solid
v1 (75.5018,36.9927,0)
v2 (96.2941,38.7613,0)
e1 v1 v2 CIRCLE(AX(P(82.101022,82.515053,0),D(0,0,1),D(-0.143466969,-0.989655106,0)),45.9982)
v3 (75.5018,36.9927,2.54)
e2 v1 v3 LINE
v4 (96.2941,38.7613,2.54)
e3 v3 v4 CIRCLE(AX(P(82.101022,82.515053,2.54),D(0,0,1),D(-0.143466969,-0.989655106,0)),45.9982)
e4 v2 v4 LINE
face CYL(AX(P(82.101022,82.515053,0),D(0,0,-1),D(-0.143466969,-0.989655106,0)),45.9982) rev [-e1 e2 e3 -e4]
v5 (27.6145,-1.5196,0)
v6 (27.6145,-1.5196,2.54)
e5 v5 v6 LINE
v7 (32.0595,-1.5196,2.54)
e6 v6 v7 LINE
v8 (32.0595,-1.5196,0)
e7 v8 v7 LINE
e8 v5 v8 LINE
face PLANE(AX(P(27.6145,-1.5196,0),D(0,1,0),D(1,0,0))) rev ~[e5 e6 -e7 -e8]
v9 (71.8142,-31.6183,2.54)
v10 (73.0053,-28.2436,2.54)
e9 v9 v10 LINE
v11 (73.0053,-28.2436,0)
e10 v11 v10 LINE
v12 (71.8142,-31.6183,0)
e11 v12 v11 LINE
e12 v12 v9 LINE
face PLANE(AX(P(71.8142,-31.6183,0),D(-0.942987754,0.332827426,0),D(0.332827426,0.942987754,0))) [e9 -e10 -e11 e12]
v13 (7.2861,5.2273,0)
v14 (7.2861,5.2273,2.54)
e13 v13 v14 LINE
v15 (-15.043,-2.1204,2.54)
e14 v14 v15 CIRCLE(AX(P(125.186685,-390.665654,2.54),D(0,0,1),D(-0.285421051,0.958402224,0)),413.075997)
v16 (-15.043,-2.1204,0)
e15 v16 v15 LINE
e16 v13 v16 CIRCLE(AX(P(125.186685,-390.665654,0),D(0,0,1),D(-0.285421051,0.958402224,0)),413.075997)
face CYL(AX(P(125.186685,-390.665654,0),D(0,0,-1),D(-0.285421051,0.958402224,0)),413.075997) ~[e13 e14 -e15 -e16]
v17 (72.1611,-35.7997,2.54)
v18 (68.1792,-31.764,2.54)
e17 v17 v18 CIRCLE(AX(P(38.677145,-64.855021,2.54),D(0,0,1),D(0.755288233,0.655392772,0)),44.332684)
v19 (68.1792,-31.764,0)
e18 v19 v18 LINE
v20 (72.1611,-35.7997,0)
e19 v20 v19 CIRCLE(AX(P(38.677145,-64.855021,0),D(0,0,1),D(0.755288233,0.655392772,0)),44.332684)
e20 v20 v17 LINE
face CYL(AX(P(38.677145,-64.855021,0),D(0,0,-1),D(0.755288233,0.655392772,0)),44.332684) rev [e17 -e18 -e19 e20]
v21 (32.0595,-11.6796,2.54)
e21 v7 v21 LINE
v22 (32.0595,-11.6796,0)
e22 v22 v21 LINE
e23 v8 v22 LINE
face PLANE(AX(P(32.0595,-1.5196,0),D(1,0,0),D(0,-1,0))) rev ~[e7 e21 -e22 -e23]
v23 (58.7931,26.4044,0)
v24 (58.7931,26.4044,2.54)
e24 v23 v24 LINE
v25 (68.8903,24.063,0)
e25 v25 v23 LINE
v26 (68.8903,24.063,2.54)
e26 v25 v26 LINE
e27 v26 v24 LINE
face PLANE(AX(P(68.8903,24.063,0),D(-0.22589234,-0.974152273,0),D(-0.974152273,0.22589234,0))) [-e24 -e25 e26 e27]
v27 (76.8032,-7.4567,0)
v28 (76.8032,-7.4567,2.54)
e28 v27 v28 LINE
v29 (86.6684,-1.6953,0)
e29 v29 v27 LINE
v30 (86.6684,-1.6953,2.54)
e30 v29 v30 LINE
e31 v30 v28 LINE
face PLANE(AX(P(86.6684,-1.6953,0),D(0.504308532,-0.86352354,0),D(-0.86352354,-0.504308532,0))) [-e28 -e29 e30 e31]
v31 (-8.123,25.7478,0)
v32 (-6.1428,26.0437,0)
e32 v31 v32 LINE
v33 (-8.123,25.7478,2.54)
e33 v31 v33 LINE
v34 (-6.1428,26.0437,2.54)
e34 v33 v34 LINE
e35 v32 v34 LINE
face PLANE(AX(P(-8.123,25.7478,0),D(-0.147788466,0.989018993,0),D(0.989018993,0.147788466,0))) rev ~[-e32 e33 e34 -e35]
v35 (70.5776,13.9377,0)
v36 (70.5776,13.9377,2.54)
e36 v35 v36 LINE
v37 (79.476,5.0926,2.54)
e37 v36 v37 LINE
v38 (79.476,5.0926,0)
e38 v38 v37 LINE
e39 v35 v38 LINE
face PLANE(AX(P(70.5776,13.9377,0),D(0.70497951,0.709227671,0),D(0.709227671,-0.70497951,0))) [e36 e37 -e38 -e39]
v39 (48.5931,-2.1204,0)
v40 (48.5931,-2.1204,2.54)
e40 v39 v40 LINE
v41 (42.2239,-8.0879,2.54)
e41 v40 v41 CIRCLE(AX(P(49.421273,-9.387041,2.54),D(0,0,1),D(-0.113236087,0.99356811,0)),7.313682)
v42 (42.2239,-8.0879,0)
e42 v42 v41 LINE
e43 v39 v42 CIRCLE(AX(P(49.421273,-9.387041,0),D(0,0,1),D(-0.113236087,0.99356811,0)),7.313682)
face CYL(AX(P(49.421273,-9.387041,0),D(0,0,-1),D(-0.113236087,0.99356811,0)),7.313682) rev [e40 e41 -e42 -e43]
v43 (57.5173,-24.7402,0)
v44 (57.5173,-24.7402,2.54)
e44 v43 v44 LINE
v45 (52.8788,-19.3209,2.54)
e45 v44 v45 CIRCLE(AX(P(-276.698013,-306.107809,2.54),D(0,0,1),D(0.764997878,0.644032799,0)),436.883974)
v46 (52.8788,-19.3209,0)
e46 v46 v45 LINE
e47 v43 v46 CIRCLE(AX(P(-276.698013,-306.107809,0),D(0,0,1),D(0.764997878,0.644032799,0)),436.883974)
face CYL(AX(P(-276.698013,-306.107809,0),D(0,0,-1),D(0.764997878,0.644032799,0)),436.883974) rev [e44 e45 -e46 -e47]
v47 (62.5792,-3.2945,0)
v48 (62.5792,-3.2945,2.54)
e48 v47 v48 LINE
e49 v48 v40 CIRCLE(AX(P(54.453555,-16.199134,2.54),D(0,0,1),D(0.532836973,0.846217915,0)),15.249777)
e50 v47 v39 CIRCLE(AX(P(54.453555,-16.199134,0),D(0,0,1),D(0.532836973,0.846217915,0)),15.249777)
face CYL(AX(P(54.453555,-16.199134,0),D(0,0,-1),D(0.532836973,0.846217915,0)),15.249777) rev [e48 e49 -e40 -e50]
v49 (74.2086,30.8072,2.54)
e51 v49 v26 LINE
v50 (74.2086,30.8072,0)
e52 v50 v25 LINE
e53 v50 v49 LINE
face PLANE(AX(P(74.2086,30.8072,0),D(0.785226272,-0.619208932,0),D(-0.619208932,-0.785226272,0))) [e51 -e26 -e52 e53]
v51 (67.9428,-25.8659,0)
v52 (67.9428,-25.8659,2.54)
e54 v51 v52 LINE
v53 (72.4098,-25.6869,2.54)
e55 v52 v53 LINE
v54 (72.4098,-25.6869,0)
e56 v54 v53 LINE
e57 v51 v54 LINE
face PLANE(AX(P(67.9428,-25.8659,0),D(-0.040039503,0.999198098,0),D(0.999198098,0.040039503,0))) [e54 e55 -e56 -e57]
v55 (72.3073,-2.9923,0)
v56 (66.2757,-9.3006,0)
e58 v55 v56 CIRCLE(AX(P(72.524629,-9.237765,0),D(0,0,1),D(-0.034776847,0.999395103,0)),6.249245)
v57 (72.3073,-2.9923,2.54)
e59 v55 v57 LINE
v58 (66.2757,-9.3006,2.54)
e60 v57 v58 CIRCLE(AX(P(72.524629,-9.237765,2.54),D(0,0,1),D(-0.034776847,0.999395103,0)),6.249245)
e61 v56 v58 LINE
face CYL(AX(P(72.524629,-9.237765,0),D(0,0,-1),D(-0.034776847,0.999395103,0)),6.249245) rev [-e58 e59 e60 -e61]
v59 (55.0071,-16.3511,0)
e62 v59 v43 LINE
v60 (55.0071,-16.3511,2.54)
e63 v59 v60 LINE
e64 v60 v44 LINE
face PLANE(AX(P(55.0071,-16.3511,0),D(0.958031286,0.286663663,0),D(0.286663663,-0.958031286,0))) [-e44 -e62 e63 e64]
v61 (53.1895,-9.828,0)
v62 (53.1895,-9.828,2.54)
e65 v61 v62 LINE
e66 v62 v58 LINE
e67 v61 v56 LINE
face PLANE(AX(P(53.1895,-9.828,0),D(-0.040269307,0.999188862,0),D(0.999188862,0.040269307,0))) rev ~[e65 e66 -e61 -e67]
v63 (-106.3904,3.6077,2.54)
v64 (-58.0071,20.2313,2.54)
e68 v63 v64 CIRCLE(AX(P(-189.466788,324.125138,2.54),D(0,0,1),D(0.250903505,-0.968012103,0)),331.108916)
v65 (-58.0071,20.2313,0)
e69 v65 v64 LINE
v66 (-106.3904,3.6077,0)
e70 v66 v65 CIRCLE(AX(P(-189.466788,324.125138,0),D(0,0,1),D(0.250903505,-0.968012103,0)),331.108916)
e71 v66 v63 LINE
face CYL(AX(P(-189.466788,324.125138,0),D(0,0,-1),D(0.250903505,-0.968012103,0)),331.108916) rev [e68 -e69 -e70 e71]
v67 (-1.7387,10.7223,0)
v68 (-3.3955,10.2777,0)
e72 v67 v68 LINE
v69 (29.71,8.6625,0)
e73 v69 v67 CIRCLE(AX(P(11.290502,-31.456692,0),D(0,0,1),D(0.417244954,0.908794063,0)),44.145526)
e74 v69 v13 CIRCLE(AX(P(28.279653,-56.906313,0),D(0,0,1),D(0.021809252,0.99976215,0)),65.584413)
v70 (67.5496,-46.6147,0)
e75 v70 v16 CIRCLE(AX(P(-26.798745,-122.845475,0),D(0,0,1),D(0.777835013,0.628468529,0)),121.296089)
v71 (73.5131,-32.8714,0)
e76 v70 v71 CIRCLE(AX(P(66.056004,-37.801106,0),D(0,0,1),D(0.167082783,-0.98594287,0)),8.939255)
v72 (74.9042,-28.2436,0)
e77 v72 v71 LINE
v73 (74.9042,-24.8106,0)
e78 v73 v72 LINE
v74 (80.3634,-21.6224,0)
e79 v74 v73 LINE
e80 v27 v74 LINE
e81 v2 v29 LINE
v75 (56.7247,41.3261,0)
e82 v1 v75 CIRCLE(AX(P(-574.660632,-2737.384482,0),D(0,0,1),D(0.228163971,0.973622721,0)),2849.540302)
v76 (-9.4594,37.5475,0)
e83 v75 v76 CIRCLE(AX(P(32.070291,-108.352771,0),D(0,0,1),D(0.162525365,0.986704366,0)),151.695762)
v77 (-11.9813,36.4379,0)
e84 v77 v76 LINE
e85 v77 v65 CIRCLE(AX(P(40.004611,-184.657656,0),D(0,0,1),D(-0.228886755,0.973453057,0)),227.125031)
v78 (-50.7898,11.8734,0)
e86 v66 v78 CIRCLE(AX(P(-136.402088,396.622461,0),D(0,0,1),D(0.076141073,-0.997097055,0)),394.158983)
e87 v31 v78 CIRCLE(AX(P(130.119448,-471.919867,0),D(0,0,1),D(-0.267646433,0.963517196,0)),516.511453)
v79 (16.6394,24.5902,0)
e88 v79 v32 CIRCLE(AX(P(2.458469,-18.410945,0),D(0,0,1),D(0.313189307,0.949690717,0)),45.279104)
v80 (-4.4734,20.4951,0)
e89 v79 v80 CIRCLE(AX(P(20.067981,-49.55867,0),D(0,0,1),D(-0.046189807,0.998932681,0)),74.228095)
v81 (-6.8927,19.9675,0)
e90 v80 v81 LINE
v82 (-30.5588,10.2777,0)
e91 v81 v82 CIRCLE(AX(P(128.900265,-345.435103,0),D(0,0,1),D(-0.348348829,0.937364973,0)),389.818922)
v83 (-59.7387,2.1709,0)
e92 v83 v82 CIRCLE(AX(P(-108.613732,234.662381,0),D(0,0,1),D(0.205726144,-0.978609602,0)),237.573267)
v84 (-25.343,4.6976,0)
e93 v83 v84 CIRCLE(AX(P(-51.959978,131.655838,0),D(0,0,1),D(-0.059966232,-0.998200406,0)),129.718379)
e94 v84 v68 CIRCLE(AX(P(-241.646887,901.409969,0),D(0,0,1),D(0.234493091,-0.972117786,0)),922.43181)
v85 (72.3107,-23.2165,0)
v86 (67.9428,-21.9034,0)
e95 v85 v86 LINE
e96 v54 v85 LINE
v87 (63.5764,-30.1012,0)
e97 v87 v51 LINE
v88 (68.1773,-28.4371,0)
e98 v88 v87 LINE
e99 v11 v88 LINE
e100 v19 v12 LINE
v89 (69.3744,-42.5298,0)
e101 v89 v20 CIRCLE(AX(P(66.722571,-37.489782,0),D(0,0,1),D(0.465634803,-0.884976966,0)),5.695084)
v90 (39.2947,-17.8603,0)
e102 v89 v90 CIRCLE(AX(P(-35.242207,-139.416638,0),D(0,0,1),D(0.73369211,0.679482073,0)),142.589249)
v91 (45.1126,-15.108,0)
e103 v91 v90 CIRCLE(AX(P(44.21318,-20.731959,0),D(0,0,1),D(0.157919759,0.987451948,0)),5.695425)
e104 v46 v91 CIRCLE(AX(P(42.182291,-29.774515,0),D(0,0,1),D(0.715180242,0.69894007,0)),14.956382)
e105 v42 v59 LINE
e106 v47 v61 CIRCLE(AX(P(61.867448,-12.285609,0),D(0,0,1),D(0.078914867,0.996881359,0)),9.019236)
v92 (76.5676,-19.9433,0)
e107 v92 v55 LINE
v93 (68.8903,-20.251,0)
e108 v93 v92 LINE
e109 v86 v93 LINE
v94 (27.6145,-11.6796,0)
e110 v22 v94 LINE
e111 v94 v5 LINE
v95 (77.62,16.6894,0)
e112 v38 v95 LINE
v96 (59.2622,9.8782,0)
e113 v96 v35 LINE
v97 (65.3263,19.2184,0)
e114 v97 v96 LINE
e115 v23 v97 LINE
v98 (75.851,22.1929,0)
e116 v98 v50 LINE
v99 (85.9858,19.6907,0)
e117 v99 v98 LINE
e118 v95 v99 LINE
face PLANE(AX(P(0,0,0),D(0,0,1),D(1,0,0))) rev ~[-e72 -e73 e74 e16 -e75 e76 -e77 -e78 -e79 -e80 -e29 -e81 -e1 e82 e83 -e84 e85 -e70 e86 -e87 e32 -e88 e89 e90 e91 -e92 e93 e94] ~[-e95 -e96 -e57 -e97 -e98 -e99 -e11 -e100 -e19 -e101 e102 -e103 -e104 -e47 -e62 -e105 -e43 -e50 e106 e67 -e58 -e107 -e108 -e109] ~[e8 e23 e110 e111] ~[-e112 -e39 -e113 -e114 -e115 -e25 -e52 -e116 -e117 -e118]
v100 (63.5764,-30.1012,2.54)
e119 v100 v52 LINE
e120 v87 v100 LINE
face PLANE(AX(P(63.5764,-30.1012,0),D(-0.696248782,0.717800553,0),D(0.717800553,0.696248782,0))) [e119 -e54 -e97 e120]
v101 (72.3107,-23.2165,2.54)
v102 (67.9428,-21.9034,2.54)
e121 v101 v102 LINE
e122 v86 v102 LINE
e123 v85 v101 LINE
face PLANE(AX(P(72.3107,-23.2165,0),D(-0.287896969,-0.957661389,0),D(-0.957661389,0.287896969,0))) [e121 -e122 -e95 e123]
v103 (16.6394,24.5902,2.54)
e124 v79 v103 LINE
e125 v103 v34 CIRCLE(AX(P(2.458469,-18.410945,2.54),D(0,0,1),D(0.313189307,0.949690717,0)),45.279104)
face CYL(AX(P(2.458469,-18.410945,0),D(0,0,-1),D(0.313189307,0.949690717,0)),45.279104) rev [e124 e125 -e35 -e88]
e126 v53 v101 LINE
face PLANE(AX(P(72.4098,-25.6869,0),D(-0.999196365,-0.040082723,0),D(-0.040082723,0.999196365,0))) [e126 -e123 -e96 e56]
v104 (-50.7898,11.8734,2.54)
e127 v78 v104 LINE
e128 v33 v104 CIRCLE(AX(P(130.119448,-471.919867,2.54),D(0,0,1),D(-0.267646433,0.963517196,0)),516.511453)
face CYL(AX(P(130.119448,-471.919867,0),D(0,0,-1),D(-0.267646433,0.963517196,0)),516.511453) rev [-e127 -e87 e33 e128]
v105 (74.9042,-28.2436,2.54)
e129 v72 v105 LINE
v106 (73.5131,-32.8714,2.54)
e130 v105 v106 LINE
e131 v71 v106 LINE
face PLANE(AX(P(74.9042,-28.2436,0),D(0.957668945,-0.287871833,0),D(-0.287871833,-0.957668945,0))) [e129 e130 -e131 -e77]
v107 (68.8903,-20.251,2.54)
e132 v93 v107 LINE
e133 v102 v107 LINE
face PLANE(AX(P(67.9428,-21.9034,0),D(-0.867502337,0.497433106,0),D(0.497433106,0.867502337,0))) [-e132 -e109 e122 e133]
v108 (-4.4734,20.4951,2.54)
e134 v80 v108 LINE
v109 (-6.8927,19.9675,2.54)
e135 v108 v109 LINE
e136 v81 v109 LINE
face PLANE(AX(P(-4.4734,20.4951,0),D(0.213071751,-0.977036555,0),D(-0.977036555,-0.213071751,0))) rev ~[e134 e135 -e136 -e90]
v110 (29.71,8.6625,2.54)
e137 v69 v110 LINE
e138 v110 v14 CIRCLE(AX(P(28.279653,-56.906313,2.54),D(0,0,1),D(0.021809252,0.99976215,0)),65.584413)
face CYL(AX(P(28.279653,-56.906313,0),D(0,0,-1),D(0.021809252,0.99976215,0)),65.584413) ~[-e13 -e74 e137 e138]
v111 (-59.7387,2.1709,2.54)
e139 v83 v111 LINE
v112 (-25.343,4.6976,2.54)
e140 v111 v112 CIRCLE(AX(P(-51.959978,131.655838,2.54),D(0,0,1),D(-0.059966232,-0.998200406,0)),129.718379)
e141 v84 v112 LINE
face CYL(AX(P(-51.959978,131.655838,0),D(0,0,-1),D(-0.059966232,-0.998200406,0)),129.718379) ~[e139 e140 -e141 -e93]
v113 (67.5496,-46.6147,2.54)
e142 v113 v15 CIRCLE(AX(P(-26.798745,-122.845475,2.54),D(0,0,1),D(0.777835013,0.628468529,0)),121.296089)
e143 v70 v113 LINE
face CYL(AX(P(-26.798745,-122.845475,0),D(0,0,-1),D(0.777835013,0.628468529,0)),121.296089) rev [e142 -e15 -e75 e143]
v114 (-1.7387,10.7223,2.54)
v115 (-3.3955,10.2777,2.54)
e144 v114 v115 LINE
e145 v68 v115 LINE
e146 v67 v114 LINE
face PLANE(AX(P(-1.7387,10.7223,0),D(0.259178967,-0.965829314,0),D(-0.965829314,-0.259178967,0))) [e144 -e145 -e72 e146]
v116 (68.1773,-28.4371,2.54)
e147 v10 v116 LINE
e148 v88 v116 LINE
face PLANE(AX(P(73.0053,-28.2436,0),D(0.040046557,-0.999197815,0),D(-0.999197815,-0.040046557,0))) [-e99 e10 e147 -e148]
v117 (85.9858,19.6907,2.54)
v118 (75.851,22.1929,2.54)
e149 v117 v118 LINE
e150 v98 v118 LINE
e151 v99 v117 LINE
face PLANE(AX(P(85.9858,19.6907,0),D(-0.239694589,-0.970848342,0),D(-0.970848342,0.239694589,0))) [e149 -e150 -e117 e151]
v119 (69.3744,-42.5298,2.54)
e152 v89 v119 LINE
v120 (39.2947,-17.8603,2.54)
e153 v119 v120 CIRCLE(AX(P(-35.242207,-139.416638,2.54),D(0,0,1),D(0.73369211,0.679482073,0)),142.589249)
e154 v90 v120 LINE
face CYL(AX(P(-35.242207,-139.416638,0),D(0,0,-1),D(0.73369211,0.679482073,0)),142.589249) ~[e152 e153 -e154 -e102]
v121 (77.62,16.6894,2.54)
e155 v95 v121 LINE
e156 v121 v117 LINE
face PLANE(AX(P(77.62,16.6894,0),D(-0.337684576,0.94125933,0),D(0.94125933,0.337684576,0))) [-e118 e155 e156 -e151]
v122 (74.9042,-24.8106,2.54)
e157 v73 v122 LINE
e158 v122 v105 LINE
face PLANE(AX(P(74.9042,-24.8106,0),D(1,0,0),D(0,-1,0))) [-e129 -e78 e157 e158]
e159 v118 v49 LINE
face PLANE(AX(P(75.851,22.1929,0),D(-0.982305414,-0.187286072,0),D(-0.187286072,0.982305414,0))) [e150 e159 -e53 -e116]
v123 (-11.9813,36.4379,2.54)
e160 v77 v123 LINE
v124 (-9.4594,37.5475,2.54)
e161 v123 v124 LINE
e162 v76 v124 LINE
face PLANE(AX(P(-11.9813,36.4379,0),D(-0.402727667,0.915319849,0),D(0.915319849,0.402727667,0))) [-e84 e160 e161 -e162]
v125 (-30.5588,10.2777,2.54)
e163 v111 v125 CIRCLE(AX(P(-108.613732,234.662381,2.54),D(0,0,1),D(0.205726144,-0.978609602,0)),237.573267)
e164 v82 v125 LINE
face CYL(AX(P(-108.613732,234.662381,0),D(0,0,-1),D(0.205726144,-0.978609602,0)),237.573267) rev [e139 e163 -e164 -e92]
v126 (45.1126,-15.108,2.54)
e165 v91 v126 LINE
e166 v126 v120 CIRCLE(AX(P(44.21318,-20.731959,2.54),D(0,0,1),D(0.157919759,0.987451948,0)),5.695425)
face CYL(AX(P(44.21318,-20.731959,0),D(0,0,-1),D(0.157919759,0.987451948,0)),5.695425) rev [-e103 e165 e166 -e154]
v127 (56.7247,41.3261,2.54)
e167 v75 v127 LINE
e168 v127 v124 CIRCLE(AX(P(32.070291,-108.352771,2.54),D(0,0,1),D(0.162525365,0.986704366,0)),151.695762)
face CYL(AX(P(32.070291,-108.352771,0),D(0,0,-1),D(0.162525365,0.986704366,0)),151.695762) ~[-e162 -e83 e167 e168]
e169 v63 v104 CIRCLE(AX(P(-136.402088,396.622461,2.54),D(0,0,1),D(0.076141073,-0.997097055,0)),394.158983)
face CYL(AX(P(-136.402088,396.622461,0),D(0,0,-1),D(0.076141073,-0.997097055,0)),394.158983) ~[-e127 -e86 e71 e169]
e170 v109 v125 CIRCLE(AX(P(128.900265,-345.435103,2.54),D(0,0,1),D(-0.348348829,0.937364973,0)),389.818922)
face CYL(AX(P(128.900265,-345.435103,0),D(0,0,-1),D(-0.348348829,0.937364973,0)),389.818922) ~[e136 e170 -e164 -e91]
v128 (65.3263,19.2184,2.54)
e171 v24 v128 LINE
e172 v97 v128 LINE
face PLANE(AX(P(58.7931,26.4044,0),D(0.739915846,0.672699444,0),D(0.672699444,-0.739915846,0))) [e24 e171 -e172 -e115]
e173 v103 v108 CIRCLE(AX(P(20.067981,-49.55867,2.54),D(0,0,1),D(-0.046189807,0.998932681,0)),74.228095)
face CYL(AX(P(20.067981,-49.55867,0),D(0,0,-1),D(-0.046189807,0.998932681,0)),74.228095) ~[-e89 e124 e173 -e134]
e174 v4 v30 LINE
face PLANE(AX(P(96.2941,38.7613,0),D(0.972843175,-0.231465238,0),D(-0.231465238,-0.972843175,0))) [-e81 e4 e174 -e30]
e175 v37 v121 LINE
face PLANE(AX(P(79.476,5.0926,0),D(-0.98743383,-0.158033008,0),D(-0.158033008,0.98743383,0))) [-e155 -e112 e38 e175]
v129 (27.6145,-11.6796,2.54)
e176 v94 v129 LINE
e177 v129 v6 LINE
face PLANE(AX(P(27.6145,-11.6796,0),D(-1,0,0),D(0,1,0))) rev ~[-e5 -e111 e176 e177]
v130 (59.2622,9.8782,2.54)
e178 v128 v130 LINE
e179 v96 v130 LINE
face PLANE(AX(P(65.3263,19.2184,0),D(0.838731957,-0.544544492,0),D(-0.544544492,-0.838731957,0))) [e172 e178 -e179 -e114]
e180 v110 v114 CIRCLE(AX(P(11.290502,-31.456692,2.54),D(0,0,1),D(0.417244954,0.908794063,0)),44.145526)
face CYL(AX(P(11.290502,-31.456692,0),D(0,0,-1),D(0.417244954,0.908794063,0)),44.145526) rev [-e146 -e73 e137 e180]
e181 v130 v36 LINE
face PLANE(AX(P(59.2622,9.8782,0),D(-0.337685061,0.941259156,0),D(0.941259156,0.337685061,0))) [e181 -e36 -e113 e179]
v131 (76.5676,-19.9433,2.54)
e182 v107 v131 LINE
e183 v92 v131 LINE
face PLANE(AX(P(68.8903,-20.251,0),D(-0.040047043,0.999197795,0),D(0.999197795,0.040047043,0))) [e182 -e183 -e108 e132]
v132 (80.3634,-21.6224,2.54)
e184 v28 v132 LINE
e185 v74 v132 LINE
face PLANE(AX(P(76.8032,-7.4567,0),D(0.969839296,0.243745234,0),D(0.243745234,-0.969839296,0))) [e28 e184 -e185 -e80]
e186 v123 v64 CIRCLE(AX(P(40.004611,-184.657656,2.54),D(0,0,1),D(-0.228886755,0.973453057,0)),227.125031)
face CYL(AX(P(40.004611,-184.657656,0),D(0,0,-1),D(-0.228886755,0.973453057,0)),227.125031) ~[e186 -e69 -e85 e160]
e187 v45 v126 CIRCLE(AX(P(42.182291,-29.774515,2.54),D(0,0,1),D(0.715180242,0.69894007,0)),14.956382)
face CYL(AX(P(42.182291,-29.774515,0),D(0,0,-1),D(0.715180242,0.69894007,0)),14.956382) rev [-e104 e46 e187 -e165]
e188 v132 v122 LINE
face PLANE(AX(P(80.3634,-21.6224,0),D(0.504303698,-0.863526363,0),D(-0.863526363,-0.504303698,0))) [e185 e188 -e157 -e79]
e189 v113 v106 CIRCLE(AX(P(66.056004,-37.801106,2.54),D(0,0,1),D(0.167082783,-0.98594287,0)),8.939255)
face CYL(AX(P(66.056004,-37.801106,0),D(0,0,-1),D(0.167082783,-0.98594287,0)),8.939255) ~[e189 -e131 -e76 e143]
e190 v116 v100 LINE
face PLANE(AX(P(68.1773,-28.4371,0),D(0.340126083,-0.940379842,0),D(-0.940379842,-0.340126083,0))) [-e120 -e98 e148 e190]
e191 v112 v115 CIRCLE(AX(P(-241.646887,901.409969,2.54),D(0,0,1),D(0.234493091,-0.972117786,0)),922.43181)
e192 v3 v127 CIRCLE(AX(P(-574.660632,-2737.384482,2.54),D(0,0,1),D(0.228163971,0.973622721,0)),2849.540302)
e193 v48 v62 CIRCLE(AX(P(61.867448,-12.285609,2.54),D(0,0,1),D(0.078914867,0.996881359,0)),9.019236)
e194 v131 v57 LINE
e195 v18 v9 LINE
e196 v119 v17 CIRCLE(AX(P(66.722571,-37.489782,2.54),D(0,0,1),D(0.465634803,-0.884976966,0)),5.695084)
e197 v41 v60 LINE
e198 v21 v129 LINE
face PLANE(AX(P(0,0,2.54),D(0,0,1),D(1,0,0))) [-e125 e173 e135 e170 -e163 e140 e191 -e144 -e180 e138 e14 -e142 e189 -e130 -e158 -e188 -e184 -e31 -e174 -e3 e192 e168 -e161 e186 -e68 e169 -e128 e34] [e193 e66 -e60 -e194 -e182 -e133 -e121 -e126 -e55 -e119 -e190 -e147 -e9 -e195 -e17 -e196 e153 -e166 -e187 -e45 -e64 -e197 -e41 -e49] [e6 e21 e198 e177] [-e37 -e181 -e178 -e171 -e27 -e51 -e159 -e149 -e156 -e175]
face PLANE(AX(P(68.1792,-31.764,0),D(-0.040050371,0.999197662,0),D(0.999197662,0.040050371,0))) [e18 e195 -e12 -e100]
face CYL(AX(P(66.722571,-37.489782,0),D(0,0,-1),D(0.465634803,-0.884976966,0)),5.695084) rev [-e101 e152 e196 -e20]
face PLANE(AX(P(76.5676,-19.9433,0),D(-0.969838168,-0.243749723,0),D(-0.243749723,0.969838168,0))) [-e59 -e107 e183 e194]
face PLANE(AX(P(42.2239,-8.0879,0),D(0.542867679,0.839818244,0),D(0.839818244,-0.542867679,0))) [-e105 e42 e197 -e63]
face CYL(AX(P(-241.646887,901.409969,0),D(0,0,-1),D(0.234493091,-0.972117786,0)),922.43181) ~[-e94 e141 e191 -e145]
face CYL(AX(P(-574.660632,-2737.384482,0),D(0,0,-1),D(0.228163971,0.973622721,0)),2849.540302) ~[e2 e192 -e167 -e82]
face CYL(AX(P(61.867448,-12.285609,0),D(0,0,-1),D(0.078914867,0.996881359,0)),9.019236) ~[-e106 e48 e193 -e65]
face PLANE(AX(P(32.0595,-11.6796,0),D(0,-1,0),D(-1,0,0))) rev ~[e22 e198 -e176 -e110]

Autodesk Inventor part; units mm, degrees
ref_plane "YZ Plane" through (0, 0, 0) normal (1, 0, 0) x (0, 1, 0)
ref_plane "XZ Plane" through (0, 0, 0) normal (0, 1, 0) x (-1, 0, 0)
ref_plane "XY Plane" through (0, 0, 0) normal (0, 0, 1) x (1, 0, 0)
sketch "Sketch1" plane through (0, 0, 0) normal (0, 0, 1) x (1, 0, 0)
  line L0 (-121.92, 53.34) -> (121.92, 53.34)
  line L1 (121.92, 53.34) -> (121.92, -53.34)
  line L2 (121.92, -53.34) -> (-121.92, -53.34)
  line L3 (-121.92, -53.34) -> (-121.92, 53.34)
  line L4 (-121.92, 53.34) -> (121.92, -53.34) construction
  line L5 (121.92, 53.34) -> (-121.92, -53.34) construction
  arc A0 (67.5496, -52.2242) -> (-16.5252, -5.911) centre (-36.2594, -141.2049) ccw
  arc A1 (67.5496, -52.2242) -> (78.4495, -31.764) centre (64.7451, -37.5966) ccw
  arc A2 (-20.2647, 1.2126) -> (-16.5252, -5.911) centre (-17.1494, -1.6953) ccw
  arc A3 (-43.7287, -2.3938) -> (-20.2647, 1.2126) centre (-53.1153, 136.8126) ccw
  arc A4 (-61.5471, -2.0063) -> (-43.7287, -2.3938) centre (-51.0941, 68.8006) ccw
  arc A5 (-65.9278, 3.1159) -> (-61.5471, -2.0063) centre (-61.6241, 2.3622) ccw
  arc A6 (-108.1597, -0.5066) -> (-65.9278, 3.1159) centre (-96.2599, 108.7489) ccw
  arc A7 (-109.606, 7.2871) -> (-108.1597, -0.5066) centre (-107.7116, 3.6077) ccw
  arc A8 (-109.606, 7.2871) -> (-29.7712, 36.4682) centre (-485.0256, 1158.173) ccw
  arc A9 (46.8022, 47.5707) -> (-29.7712, 36.4682) centre (33.6127, -131.0759) ccw
  arc A10 (75.8647, 41.5807) -> (46.8022, 47.5707) centre (24.6007, -133.6461) ccw
  arc A11 (75.8647, 41.5807) -> (97.0333, 43.8681) centre (82.7984, 76.5092) ccw
  arc A12 (101.3733, 39.6116) -> (97.0333, 43.8681) centre (98.7975, 41.3261) ccw
  line L6 (101.3733, 39.6116) -> (91.2149, -4.1951)
  line L7 (91.2149, -4.1951) -> (82.1219, -9.828)
  line L8 (82.1219, -9.828) -> (85.6883, -23.6524)
  line L9 (85.6883, -23.6524) -> (79.8094, -27.2942)
  line L10 (79.8094, -27.2942) -> (78.4495, -31.764)
  arc A13 (-8.123, 25.7478) -> (-50.7898, 11.8734) centre (130.1222, -471.929) ccw
  arc A14 (-59.7387, 2.1709) -> (-25.343, 4.6976) centre (-51.96, 131.6592) ccw
  arc A15 (-25.343, 4.6976) -> (-3.3955, 10.2777) centre (-241.5674, 901.0891) ccw
  arc A16 (-59.7387, 2.1709) -> (-30.5588, 10.2777) centre (-108.6142, 234.6643) ccw
  arc A17 (-6.8927, 19.9675) -> (-30.5588, 10.2777) centre (128.911, -345.4626) ccw
  arc A18 (29.71, 8.6625) -> (7.2861, 5.2273) centre (28.2796, -56.9055) ccw
  arc A19 (67.5496, -46.6147) -> (-15.043, -2.1204) centre (-26.7986, -122.8453) ccw
  arc A20 (7.2861, 5.2273) -> (-15.043, -2.1204) centre (125.1778, -390.6373) ccw
  arc A21 (29.71, 8.6625) -> (-1.7387, 10.7223) centre (11.2905, -31.4567) ccw
  arc A22 (16.6394, 24.5902) -> (-4.4734, 20.4951) centre (20.0682, -49.5605) ccw
  arc A23 (16.6394, 24.5902) -> (-6.1428, 26.0437) centre (2.4584, -18.4113) ccw
  line L11 (-4.4734, 20.4951) -> (-6.8927, 19.9675)
  line L12 (-1.7387, 10.7223) -> (-3.3955, 10.2777)
  line L13 (-8.123, 25.7478) -> (-6.1428, 26.0437)
  line L14 (-11.9813, 36.4379) -> (-9.4594, 37.5475)
  arc A24 (56.7247, 41.3261) -> (-9.4594, 37.5475) centre (32.0703, -108.3526) ccw
  arc A25 (75.5018, 36.9927) -> (96.2941, 38.7613) centre (82.101, 82.5143) ccw
  arc A26 (75.5018, 36.9927) -> (56.7247, 41.3261) centre (-574.7188, -2737.6346) ccw
  arc A27 (48.5931, -2.1204) -> (42.2239, -8.0879) centre (49.4213, -9.3871) ccw
  arc A28 (62.5792, -3.2945) -> (48.5931, -2.1204) centre (54.4536, -16.199) ccw
  arc A29 (62.5792, -3.2945) -> (53.1895, -9.828) centre (61.8675, -12.2858) ccw
  arc A30 (72.3073, -2.9923) -> (66.2757, -9.3006) centre (72.5246, -9.2377) ccw
  arc A31 (45.1126, -15.108) -> (39.2947, -17.8603) centre (44.2132, -20.7321) ccw
  arc A32 (52.8788, -19.3209) -> (45.1126, -15.108) centre (42.182, -29.7749) ccw
  arc A33 (57.5173, -24.7402) -> (52.8788, -19.3209) centre (-276.2295, -305.7101) ccw
  arc A34 (69.3744, -42.5298) -> (72.1611, -35.7997) centre (66.7227, -37.4899) ccw
  arc A35 (67.5496, -46.6147) -> (73.5131, -32.8714) centre (66.056, -37.8011) ccw
  arc A36 (72.1611, -35.7997) -> (68.1792, -31.764) centre (38.6776, -64.8546) ccw
  arc A37 (69.3744, -42.5298) -> (39.2947, -17.8603) centre (-35.2417, -139.4161) ccw
  line L15 (96.2941, 38.7613) -> (86.6684, -1.6953)
  line L16 (86.6684, -1.6953) -> (76.8032, -7.4567)
  line L17 (76.8032, -7.4567) -> (80.3634, -21.6224)
  line L18 (80.3634, -21.6224) -> (74.9042, -24.8106)
  line L19 (74.9042, -24.8106) -> (74.9042, -28.2436)
  line L20 (74.9042, -28.2436) -> (73.5131, -32.8714)
  line L21 (68.1792, -31.764) -> (71.8142, -31.6183)
  line L22 (71.8142, -31.6183) -> (73.0053, -28.2436)
  line L23 (73.0053, -28.2436) -> (68.1773, -28.4371)
  line L24 (68.1773, -28.4371) -> (63.5764, -30.1012)
  line L25 (63.5764, -30.1012) -> (67.9428, -25.8659)
  line L26 (67.9428, -25.8659) -> (72.4098, -25.6869)
  line L27 (72.4098, -25.6869) -> (72.3107, -23.2165)
  line L28 (72.3107, -23.2165) -> (67.9428, -21.9034)
  line L29 (67.9428, -21.9034) -> (68.8903, -20.251)
  line L30 (68.8903, -20.251) -> (76.5676, -19.9433)
  line L31 (76.5676, -19.9433) -> (72.3073, -2.9923)
  arc A38 (-106.3904, 3.6077) -> (-58.0071, 20.2313) centre (-189.4647, 324.1182) ccw
  arc A39 (-11.9813, 36.4379) -> (-58.0071, 20.2313) centre (40.006, -184.6624) ccw
  line L32 (65.3263, 19.2184) -> (59.2622, 9.8782)
  line L33 (59.2622, 9.8782) -> (70.5776, 13.9377)
  line L34 (70.5776, 13.9377) -> (79.476, 5.0926)
  line L35 (79.476, 5.0926) -> (77.62, 16.6894)
  line L36 (77.62, 16.6894) -> (85.9858, 19.6907)
  line L37 (85.9858, 19.6907) -> (75.851, 22.1929)
  line L38 (75.851, 22.1929) -> (74.2086, 30.8072)
  line L39 (74.2086, 30.8072) -> (68.8903, 24.063)
  line L40 (68.8903, 24.063) -> (58.7931, 26.4044)
  line L41 (58.7931, 26.4044) -> (65.3263, 19.2184)
  line L42 (42.2239, -8.0879) -> (55.0071, -16.3511)
  line L43 (55.0071, -16.3511) -> (57.5173, -24.7402)
  line L44 (53.1895, -9.828) -> (66.2757, -9.3006)
  arc A40 (-106.3904, 3.6077) -> (-50.7898, 11.8734) centre (-136.4008, 396.611) ccw
  line L45 (27.6145, -1.5196) -> (32.0595, -1.5196)
  line L46 (32.0595, -1.5196) -> (32.0595, -11.6796)
  line L47 (32.0595, -11.6796) -> (27.6145, -11.6796)
  line L48 (27.6145, -11.6796) -> (27.6145, -1.5196)
  line L49 (27.6145, -1.5196) -> (32.0595, -11.6796) construction
  line L50 (32.0595, -1.5196) -> (27.6145, -11.6796) construction
  point P0 (0, 0)
  point P1 (29.837, -6.5996)
  dimension "d0" = 243.84
  dimension "d1" = 106.68
  dimension "d21" = 4.445
  dimension "d22" = 10.16
extrude "Extrusion2" add sketch "Sketch1" along normal blind 2.54 contours A13 A40 A38 A39 L14 A24 A26 A25 L15 L16 L17 L18 L19 L20 A35 A19 A20 A18 A21 L12 A15 A14 A16 A17 L11 A22 A23 L13
properties part number "RTS patriots"
